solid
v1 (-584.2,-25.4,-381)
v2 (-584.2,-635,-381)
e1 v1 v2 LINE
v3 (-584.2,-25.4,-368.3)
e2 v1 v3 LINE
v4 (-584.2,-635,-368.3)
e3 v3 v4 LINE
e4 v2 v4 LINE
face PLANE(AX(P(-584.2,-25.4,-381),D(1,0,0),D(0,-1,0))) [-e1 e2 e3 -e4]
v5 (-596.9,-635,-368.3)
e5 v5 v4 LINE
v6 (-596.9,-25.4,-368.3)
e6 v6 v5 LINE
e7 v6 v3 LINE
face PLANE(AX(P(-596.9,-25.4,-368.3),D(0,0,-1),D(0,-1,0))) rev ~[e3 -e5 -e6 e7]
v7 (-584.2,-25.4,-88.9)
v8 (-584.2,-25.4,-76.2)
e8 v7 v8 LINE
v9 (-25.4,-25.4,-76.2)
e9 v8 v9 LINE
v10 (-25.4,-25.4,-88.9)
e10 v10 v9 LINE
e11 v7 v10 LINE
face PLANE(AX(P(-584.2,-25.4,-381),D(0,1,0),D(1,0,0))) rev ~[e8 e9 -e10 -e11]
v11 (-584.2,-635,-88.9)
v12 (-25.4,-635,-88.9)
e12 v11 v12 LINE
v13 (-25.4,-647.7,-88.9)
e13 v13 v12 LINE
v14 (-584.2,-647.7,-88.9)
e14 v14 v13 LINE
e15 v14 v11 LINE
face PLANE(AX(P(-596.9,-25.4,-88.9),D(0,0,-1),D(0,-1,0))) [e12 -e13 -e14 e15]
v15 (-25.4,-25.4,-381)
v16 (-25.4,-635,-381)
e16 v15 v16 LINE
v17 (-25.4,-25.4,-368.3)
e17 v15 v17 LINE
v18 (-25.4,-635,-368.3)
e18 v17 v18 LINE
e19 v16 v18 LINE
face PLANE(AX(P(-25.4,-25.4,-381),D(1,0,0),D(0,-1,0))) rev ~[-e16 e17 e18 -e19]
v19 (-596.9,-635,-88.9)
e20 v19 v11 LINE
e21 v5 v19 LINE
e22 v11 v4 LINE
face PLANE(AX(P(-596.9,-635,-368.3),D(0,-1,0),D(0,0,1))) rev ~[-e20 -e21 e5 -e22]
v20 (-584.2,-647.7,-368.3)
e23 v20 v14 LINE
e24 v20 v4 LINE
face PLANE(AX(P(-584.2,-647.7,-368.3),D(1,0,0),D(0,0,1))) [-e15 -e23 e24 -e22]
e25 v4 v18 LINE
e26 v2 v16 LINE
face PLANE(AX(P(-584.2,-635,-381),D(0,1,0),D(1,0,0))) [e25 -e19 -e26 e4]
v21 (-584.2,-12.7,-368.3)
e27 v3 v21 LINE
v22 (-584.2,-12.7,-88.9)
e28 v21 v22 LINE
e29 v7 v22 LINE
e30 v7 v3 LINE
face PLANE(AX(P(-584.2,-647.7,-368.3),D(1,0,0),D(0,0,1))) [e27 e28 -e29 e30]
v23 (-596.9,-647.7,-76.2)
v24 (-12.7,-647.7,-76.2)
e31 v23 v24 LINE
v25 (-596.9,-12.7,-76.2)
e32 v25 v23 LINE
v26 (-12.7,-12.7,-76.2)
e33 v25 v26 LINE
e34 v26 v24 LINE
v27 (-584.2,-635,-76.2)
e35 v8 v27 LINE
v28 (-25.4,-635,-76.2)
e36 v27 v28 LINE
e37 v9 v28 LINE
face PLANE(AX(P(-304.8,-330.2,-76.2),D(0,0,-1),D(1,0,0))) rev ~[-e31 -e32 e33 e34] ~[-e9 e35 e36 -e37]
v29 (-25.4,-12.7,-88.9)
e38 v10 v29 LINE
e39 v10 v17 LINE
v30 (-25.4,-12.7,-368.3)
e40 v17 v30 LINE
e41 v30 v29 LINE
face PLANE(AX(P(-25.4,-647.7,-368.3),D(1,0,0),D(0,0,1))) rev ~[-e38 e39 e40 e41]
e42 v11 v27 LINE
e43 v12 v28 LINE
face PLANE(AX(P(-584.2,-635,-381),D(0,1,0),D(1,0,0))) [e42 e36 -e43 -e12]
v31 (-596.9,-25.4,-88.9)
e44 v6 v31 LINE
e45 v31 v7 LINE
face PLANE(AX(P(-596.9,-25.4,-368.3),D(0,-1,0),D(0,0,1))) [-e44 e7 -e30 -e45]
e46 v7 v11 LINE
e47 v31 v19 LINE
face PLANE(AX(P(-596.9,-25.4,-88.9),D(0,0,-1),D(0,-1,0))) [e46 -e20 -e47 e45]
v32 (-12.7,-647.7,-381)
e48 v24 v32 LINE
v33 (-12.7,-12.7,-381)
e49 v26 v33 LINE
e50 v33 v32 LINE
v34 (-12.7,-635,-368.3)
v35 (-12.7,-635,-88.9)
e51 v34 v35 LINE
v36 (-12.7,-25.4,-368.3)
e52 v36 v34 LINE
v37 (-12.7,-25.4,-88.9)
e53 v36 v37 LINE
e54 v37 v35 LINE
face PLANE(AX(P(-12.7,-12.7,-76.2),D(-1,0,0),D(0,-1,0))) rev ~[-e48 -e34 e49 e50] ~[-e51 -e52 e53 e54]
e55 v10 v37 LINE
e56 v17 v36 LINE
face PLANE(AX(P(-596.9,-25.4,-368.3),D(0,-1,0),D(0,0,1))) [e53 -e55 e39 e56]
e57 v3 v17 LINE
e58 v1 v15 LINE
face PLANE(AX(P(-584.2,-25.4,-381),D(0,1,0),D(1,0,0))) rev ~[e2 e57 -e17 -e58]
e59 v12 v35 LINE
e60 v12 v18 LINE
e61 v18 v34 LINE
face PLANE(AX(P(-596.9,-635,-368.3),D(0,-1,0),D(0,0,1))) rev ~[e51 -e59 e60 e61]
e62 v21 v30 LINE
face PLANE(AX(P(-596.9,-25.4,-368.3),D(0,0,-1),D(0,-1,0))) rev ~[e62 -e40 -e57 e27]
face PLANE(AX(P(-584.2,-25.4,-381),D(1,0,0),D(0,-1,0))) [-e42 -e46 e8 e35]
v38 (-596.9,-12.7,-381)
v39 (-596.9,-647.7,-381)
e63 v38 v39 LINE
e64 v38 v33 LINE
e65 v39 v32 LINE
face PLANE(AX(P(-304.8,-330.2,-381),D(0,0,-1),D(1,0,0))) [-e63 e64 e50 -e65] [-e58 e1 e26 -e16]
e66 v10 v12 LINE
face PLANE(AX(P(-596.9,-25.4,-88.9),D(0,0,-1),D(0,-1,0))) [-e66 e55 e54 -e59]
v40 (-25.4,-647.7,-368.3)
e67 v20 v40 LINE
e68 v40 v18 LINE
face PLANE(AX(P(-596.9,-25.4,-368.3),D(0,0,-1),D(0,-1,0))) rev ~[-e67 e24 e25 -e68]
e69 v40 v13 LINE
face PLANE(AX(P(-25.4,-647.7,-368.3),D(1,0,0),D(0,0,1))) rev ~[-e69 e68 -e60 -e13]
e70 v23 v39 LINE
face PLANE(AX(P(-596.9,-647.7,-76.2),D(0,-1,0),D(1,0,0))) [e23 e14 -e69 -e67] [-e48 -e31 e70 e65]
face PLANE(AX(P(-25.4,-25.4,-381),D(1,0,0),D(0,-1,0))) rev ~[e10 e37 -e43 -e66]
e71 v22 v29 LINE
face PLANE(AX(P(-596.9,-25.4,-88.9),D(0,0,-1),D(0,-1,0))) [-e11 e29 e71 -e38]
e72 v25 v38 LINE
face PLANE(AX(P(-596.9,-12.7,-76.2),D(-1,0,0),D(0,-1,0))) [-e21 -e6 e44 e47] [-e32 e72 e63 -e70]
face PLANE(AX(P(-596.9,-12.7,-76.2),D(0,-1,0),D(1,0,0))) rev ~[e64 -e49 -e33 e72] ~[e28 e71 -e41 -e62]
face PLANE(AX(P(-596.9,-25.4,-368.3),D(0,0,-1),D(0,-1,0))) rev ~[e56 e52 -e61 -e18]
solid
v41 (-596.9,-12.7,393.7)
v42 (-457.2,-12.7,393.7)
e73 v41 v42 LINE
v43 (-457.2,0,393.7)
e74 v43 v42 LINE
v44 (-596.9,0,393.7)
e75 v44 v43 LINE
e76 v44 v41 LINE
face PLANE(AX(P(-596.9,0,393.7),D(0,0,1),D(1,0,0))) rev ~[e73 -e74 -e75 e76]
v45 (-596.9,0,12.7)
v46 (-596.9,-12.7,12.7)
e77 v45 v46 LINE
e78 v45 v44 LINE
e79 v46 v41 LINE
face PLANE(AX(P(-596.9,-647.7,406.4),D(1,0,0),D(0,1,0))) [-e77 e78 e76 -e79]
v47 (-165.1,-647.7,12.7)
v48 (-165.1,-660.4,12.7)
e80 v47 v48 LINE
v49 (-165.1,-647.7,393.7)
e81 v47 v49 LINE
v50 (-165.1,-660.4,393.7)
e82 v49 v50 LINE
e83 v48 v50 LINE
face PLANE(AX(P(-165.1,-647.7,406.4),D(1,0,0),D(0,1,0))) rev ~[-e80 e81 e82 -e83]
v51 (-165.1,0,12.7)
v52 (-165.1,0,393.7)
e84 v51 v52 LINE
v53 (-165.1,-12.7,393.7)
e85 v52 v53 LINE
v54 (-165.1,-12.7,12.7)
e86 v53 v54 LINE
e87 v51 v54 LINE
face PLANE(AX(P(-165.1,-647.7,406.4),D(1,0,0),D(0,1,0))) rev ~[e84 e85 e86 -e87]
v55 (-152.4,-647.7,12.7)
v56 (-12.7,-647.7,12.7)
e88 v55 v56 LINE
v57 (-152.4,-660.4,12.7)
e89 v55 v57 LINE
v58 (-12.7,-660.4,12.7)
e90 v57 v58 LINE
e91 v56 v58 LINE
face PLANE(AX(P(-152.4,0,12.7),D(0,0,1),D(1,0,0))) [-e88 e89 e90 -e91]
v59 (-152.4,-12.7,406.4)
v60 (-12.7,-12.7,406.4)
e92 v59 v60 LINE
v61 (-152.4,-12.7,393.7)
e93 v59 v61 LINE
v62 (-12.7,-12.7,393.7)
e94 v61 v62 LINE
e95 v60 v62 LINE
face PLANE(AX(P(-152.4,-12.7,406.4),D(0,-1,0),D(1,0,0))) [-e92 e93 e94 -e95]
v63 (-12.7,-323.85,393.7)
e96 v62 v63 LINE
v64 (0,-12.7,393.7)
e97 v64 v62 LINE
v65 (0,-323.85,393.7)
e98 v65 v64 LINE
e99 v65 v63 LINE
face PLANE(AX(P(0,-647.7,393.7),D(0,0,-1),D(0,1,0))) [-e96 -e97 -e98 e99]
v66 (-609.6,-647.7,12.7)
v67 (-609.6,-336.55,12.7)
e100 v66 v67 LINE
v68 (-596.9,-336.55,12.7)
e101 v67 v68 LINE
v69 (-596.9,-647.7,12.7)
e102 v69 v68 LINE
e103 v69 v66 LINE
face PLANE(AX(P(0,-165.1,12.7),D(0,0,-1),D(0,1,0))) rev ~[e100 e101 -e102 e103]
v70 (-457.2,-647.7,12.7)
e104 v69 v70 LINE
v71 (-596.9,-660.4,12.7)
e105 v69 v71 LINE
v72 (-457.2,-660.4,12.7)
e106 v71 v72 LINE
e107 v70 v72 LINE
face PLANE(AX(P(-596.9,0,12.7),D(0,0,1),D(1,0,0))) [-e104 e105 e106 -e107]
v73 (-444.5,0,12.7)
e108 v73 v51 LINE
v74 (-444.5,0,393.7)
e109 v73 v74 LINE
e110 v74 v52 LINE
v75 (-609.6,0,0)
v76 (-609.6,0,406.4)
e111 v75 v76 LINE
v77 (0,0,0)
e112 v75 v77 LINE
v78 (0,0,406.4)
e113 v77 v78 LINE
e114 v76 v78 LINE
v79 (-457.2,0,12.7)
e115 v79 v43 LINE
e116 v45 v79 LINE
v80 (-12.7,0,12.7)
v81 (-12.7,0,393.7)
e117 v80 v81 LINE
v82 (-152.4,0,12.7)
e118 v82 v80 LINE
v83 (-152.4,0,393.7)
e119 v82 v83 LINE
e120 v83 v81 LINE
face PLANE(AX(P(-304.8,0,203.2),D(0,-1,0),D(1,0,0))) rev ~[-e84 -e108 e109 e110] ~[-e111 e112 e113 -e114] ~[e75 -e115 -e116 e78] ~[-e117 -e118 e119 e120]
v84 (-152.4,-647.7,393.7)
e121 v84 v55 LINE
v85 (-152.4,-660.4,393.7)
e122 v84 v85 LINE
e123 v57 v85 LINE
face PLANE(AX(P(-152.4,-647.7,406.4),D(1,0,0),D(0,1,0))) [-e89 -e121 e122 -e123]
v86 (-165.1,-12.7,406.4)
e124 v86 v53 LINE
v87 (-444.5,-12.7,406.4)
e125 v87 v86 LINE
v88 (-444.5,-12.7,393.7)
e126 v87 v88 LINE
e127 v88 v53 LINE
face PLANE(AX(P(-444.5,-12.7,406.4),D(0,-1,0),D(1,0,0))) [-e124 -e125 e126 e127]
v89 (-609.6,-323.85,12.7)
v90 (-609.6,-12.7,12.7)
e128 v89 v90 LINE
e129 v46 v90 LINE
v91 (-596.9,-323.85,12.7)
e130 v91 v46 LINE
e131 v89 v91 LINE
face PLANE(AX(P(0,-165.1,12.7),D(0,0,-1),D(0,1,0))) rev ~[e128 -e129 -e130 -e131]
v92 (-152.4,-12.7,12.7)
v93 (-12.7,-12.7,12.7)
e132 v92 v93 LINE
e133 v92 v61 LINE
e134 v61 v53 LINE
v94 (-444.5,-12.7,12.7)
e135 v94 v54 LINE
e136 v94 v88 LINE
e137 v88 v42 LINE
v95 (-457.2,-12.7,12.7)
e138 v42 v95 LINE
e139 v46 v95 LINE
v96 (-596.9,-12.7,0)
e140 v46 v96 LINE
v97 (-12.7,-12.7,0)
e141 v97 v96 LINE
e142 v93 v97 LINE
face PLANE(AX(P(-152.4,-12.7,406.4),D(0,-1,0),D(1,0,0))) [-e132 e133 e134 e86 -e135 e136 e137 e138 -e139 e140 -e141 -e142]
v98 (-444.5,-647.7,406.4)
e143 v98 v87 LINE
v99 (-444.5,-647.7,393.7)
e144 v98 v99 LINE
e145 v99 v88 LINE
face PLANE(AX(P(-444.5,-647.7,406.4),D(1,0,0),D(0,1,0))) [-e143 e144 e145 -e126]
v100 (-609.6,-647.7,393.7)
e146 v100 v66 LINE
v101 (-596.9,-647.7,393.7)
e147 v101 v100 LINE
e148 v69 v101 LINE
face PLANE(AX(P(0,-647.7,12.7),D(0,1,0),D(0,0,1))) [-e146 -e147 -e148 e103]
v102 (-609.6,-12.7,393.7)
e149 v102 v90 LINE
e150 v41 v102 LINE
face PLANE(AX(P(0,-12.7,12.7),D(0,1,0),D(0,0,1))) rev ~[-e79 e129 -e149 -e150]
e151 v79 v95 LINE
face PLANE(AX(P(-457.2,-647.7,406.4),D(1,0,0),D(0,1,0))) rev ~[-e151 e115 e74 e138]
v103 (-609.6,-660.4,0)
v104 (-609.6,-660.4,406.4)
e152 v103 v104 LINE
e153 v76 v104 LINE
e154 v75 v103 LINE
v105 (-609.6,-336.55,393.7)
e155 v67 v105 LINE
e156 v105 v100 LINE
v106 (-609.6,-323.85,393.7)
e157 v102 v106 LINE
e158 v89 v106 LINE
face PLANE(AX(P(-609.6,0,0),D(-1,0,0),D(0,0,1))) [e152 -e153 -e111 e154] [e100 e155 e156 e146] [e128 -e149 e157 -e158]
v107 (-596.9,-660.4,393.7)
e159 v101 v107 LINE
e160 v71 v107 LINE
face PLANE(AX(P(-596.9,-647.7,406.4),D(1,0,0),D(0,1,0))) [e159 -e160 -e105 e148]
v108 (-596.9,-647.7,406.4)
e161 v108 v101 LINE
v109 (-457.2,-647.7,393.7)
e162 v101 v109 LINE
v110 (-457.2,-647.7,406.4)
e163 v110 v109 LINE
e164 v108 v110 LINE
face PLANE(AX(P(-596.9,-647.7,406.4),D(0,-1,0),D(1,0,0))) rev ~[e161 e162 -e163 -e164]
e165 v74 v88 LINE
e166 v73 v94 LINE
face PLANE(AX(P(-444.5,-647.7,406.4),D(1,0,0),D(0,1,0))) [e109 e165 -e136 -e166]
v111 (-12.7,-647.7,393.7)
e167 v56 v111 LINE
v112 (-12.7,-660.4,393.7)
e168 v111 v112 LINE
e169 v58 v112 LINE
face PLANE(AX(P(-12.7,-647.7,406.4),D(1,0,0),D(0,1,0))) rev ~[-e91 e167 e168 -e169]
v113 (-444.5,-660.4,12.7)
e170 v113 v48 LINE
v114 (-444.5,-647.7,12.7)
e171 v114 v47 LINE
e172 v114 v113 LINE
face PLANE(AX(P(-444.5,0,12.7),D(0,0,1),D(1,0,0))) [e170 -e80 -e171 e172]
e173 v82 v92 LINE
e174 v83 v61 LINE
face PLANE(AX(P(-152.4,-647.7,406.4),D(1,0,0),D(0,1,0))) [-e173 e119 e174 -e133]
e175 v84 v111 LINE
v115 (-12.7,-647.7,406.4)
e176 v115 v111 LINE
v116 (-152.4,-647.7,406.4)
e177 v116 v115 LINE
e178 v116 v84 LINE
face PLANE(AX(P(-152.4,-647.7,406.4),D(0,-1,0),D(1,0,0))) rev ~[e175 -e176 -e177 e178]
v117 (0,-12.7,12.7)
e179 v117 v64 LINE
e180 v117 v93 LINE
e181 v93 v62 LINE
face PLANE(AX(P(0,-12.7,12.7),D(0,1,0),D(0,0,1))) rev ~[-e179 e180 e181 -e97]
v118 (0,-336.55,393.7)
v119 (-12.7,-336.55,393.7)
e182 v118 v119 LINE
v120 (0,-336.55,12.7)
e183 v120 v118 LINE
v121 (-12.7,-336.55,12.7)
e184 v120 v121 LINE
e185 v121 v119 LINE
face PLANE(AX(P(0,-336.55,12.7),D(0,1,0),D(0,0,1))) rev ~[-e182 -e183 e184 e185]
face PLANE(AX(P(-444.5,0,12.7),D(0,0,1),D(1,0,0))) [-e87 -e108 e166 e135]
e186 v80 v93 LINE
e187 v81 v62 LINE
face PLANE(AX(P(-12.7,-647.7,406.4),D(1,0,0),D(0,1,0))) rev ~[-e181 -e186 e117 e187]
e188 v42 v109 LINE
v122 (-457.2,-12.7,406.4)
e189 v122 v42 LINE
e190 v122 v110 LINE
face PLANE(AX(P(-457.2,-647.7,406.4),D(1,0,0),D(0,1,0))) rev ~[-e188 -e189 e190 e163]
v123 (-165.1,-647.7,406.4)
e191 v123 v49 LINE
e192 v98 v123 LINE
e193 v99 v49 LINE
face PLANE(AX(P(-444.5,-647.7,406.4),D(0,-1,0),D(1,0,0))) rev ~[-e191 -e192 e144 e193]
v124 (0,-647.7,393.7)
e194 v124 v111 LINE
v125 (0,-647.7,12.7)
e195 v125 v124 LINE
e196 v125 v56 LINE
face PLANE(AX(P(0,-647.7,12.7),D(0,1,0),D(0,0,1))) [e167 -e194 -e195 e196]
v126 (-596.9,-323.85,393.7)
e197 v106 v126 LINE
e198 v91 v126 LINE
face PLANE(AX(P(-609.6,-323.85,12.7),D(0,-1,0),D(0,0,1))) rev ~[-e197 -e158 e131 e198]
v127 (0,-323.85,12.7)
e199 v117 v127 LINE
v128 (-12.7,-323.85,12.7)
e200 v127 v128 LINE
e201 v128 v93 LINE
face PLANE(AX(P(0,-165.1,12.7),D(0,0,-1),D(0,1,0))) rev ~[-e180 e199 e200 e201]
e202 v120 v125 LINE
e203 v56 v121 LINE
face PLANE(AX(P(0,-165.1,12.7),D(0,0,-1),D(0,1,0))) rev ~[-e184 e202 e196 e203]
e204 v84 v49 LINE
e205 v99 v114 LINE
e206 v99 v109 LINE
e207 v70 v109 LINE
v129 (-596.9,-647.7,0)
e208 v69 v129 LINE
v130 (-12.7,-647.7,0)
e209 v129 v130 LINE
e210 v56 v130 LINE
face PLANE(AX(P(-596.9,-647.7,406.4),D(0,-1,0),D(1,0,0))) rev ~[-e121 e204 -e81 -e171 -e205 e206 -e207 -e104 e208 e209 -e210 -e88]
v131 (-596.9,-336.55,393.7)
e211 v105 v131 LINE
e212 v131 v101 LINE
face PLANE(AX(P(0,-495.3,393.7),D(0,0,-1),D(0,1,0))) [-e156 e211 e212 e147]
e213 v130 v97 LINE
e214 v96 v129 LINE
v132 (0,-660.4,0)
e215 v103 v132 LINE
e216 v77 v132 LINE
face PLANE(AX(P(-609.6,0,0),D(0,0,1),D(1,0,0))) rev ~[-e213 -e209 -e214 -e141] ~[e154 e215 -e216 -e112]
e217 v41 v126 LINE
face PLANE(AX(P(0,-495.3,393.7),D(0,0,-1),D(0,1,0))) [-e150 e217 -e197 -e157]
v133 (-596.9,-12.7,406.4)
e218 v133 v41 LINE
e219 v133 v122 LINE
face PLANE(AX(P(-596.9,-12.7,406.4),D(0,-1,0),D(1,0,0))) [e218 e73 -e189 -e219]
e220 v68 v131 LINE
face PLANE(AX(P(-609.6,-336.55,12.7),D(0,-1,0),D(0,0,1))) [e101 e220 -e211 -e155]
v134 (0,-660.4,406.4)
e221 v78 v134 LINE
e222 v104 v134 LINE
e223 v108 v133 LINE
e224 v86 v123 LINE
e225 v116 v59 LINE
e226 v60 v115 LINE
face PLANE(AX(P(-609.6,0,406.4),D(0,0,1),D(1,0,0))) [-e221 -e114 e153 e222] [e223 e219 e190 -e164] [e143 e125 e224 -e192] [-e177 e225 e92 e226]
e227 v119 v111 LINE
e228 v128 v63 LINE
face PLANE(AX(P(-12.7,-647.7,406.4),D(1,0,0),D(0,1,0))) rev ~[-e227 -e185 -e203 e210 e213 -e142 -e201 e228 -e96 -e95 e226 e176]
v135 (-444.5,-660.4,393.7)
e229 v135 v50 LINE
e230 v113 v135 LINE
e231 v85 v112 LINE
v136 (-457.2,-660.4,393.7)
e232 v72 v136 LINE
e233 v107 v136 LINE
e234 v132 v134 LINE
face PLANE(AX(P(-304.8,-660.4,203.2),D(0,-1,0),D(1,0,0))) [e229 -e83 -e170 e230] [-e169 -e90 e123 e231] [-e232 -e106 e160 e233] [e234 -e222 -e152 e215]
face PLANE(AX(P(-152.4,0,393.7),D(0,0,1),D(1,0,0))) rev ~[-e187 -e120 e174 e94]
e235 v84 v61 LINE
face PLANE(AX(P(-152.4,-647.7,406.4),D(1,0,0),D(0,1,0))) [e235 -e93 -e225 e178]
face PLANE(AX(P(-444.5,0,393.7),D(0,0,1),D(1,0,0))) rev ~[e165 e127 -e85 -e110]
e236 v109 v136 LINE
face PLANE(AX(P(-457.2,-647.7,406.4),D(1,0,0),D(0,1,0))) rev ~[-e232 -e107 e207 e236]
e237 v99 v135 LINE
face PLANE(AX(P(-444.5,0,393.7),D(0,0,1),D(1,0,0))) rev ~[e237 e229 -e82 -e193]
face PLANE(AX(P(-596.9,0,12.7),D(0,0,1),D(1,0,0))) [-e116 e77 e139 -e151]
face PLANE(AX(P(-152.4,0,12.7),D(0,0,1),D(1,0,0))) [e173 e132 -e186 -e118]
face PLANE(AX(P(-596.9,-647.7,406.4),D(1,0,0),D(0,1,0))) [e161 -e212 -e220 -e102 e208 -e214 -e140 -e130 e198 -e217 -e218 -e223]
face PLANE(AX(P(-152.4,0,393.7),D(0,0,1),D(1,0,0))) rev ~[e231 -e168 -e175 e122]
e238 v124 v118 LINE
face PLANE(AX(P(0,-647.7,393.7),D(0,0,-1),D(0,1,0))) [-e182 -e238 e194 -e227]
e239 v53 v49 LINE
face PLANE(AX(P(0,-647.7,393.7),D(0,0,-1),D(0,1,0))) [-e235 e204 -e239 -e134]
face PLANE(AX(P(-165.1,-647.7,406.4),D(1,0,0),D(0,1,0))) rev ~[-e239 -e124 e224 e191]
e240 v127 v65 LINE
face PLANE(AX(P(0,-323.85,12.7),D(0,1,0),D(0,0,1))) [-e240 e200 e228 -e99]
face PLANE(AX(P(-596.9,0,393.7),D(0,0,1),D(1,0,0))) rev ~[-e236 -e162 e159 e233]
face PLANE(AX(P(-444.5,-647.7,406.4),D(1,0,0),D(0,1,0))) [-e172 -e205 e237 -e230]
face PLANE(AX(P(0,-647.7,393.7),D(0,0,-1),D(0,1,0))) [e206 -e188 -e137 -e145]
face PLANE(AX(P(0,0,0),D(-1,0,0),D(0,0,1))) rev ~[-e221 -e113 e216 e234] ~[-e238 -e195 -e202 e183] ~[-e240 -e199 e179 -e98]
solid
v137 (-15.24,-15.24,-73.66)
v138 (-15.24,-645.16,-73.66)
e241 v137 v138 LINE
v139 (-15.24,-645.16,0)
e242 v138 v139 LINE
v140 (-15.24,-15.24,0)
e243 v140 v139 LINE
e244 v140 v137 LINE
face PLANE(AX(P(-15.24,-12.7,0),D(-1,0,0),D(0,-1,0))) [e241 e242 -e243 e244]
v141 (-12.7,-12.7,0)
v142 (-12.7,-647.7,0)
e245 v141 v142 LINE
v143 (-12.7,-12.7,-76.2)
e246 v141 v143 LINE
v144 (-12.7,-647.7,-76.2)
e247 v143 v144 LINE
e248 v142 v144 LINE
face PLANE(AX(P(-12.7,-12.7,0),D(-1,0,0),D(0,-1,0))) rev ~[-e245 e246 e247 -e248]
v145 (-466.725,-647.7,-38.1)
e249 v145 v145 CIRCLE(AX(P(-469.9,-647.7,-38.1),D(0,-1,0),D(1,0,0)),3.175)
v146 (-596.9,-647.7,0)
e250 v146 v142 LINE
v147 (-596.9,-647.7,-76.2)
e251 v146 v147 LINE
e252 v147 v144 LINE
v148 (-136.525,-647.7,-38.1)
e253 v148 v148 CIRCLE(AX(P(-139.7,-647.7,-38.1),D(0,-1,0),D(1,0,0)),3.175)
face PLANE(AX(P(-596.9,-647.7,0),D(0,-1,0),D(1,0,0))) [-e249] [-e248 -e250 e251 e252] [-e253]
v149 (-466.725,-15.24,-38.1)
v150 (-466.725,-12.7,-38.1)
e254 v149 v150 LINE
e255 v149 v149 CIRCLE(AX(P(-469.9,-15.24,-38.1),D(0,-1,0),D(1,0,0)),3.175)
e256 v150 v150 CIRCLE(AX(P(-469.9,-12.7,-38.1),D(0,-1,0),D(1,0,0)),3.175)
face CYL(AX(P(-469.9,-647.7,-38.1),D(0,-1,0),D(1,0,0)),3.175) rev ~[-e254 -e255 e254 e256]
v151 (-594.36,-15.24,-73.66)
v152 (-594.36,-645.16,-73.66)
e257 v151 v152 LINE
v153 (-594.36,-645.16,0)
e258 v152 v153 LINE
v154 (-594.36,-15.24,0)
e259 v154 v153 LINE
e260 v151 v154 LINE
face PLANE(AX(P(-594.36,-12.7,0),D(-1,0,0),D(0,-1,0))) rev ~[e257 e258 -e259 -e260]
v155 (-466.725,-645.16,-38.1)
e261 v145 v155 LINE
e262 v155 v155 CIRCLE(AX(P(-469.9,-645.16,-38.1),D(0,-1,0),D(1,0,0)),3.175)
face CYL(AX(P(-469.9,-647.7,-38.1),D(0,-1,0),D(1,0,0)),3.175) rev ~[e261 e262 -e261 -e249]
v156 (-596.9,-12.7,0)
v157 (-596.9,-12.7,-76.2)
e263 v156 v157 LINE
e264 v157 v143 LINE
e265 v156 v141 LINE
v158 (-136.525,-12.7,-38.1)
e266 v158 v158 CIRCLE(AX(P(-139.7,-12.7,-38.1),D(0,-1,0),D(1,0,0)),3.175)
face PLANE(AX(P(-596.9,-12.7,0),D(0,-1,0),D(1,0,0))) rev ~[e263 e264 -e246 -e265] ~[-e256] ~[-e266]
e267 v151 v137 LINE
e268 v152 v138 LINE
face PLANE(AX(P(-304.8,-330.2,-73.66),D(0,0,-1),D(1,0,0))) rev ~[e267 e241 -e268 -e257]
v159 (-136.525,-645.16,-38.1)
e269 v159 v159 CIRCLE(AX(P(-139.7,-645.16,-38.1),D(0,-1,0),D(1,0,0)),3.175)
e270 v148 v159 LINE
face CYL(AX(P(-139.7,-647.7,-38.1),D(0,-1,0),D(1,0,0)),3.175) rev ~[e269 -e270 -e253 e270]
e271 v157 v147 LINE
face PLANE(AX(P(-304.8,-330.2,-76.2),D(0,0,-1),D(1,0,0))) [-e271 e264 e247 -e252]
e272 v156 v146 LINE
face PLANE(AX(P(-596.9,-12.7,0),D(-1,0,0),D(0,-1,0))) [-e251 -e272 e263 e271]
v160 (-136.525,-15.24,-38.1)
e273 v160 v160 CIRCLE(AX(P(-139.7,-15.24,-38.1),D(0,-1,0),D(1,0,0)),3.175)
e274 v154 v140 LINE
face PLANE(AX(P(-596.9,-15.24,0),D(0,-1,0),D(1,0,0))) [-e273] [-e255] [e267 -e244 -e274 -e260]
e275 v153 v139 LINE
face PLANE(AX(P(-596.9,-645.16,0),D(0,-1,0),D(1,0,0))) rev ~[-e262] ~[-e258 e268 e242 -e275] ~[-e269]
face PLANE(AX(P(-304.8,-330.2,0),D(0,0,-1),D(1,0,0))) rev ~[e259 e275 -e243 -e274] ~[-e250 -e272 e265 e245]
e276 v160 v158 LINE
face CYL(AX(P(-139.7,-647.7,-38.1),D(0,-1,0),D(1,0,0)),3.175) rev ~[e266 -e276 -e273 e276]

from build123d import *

# Parameters (mm, degrees)
F0_W      = 609.6
F0_H      = 406.4
F0_W_2    = 139.7
F0_H_2    = 381
F0_W_3    = 279.4
F1_DEPTH  = 660.4
F2_W      = 139.7
F2_H      = 152.4
F2_W_2    = 279.4
F2_H_2    = 304.8
F3_DEPTH  = 406.401
F4_W      = 152.4
F4_H      = 381
F4_W_2    = 304.8
F5_DEPTH  = 609.601
F6_W      = 12.7
F6_H      = 381
F7_DEPTH  = 304.8
F8_W      = 139.7
F8_H      = 12.7
F8_W_2    = 279.4
F9_DEPTH  = 406.401
F10_W     = 12.7
F10_H     = 635
F11_DEPTH = 25.4
F12_W     = 584.2
F12_H     = 635
F13_DEPTH = 76.2
F14_T     = -2.54
F15_R     = 3.175
F16_DEPTH = 647.701
F17_W     = 584.2
F17_H     = 635
F18_DEPTH = 304.8
F19_W     = 558.8
F19_H     = 279.4
F20_DEPTH = 647.701
F21_W     = 609.6
F21_H     = 279.4
F22_DEPTH = 596.901
F23_W     = 558.8
F23_H     = 609.6
F24_DEPTH = 787.401
F25_W     = 12.7
F25_H     = 381
F26_DEPTH = 609.601
F27_W     = 12.7
F27_H     = 381
F28_DEPTH = 12.7
F29_W     = 12.7
F29_H     = 381
F30_DEPTH = 12.7


with BuildPart() as f1:
    # F0 (on Front) → F1 (new body)
    with BuildSketch(Plane.XZ):
        with Locations((-304.8, 203.2)):
            Rectangle(F0_W, F0_H)
        with Locations((-527.05, 203.2)):
            Rectangle(F0_W_2, F0_H_2, mode=Mode.SUBTRACT)
        with Locations((-304.8, 203.2)):
            Rectangle(F0_W_3, F0_H_2, mode=Mode.SUBTRACT)
        with Locations((-82.55, 203.2)):
            Rectangle(F0_W_2, F0_H_2, mode=Mode.SUBTRACT)
    extrude(amount=F1_DEPTH)

    # F2 (on face) → F3 (cut, through all)
    with BuildSketch(Plane.XY.offset(406.4)):
        with Locations((-527.05, -88.9)):
            Rectangle(F2_W, F2_H)
        with Locations((-304.8, -88.9)):
            Rectangle(F2_W_2, F2_H)
        with Locations((-82.55, -88.9)):
            Rectangle(F2_W, F2_H)
        with Locations((-82.55, -330.2)):
            Rectangle(F2_W, F2_H_2)
        with Locations((-304.8, -330.2)):
            Rectangle(F2_W_2, F2_H_2)
        with Locations((-527.05, -330.2)):
            Rectangle(F2_W, F2_H_2)
        with Locations((-527.05, -571.5)):
            Rectangle(F2_W, F2_H)
        with Locations((-304.8, -571.5)):
            Rectangle(F2_W_2, F2_H)
        with Locations((-82.55, -571.5)):
            Rectangle(F2_W, F2_H)
    extrude(amount=-F3_DEPTH, mode=Mode.SUBTRACT)

    # F4 (on face) → F5 (cut, through all)
    with BuildSketch(Plane.YZ):
        with Locations((-571.5, 203.2)):
            Rectangle(F4_W, F4_H)
        with Locations((-330.2, 203.2)):
            Rectangle(F4_W_2, F4_H)
        with Locations((-88.9, 203.2)):
            Rectangle(F4_W, F4_H)
    extrude(amount=-F5_DEPTH, mode=Mode.SUBTRACT)

    # F6 (on face) → F7 (cut)
    with BuildSketch(Plane.YZ.offset(-152.4)):
        with Locations((-488.95, 203.2)):
            Rectangle(F6_W, F6_H)
        with Locations((-171.45, 203.2)):
            Rectangle(F6_W, F6_H)
    extrude(amount=-F7_DEPTH, mode=Mode.SUBTRACT)

    # F8 (on face) → F9 (cut, through all)
    with BuildSketch(Plane.XY.offset(406.4)):
        with Locations((-527.05, -171.45)):
            Rectangle(F8_W, F8_H)
        with Locations((-304.8, -171.45)):
            Rectangle(F8_W_2, F8_H)
        with Locations((-82.55, -171.45)):
            Rectangle(F8_W, F8_H)
        with Locations((-82.55, -488.95)):
            Rectangle(F8_W, F8_H)
        with Locations((-304.8, -488.95)):
            Rectangle(F8_W_2, F8_H)
        with Locations((-527.05, -488.95)):
            Rectangle(F8_W, F8_H)
    extrude(amount=-F9_DEPTH, mode=Mode.SUBTRACT)

    # F10 (on face) → F11 (cut)
    with BuildSketch(Plane(origin=(0, 0, 0), x_dir=(1, 0, 0), z_dir=(0, 0, -1))):
        with Locations((-450.85, 330.2)):
            Rectangle(F10_W, F10_H)
        with Locations((-158.75, 330.2)):
            Rectangle(F10_W, F10_H)
    extrude(amount=-F11_DEPTH, mode=Mode.SUBTRACT)

    # F25 (on face) → F26 (cut, through all)
    with BuildSketch(Plane.YZ):
        with Locations((-488.95, 203.2)):
            Rectangle(F25_W, F25_H)
        with Locations((-171.45, 203.2)):
            Rectangle(F25_W, F25_H)
    extrude(amount=-F26_DEPTH, mode=Mode.SUBTRACT)

    # F27 (on face) → F28 (join)
    with BuildSketch(Plane.YZ):
        with Locations((-330.2, 203.2)):
            Rectangle(F27_W, F27_H)
    extrude(amount=-F28_DEPTH)

    # F29 (on face) → F30 (join)
    with BuildSketch(Plane(origin=(-609.6, 0, 0), x_dir=(0, -1, 0), z_dir=(-1, 0, 0))):
        with Locations((330.2, 203.2)):
            Rectangle(F29_W, F29_H)
    extrude(amount=-F30_DEPTH)


with BuildPart() as f13:
    # F12 (on face) → F13 (new body)
    with BuildSketch(Plane(origin=(0, 0, 0), x_dir=(1, 0, 0), z_dir=(0, 0, -1))):
        with Locations((-304.8, 330.2)):
            Rectangle(F12_W, F12_H)
    extrude(amount=F13_DEPTH)

    # F14
    f14_openings = [f13.faces().sort_by_distance(p)[0] for p in [
        (-304.8, -330.2, 0),
    ]]
    offset(amount=F14_T, openings=f14_openings)

    # F15 (on face) → F16 (cut, through all)
    with BuildSketch(Plane.XZ.offset(647.7)):
        with Locations((-139.7, -38.1)):
            Circle(F15_R)
        with Locations((-469.9, -38.1)):
            Circle(F15_R)
    extrude(amount=-F16_DEPTH, mode=Mode.SUBTRACT)


with BuildPart() as f18:
    # F17 (on face) → F18 (new body)
    with BuildSketch(Plane(origin=(0, 0, -76.2), x_dir=(1, 0, 0), z_dir=(0, 0, -1))):
        with Locations((-304.8, 330.2)):
            Rectangle(F17_W, F17_H)
    extrude(amount=F18_DEPTH)

    # F19 (on face) → F20 (cut, through all)
    with BuildSketch(Plane.XZ.offset(647.7)):
        with Locations((-304.8, -228.6)):
            Rectangle(F19_W, F19_H)
    extrude(amount=-F20_DEPTH, mode=Mode.SUBTRACT)

    # F21 (on face) → F22 (cut, through all)
    with BuildSketch(Plane(origin=(-596.9, 0, 0), x_dir=(0, -1, 0), z_dir=(-1, 0, 0))):
        with Locations((330.2, -228.6)):
            Rectangle(F21_W, F21_H)
    extrude(amount=-F22_DEPTH, mode=Mode.SUBTRACT)

    # F23 (on face) → F24 (cut, through all)
    with BuildSketch(Plane(origin=(0, 0, -381), x_dir=(1, 0, 0), z_dir=(0, 0, -1))):
        with Locations((-304.8, 330.2)):
            Rectangle(F23_W, F23_H)
    extrude(amount=-F24_DEPTH, mode=Mode.SUBTRACT)


solid = Compound([f1.part, f13.part, f18.part])
